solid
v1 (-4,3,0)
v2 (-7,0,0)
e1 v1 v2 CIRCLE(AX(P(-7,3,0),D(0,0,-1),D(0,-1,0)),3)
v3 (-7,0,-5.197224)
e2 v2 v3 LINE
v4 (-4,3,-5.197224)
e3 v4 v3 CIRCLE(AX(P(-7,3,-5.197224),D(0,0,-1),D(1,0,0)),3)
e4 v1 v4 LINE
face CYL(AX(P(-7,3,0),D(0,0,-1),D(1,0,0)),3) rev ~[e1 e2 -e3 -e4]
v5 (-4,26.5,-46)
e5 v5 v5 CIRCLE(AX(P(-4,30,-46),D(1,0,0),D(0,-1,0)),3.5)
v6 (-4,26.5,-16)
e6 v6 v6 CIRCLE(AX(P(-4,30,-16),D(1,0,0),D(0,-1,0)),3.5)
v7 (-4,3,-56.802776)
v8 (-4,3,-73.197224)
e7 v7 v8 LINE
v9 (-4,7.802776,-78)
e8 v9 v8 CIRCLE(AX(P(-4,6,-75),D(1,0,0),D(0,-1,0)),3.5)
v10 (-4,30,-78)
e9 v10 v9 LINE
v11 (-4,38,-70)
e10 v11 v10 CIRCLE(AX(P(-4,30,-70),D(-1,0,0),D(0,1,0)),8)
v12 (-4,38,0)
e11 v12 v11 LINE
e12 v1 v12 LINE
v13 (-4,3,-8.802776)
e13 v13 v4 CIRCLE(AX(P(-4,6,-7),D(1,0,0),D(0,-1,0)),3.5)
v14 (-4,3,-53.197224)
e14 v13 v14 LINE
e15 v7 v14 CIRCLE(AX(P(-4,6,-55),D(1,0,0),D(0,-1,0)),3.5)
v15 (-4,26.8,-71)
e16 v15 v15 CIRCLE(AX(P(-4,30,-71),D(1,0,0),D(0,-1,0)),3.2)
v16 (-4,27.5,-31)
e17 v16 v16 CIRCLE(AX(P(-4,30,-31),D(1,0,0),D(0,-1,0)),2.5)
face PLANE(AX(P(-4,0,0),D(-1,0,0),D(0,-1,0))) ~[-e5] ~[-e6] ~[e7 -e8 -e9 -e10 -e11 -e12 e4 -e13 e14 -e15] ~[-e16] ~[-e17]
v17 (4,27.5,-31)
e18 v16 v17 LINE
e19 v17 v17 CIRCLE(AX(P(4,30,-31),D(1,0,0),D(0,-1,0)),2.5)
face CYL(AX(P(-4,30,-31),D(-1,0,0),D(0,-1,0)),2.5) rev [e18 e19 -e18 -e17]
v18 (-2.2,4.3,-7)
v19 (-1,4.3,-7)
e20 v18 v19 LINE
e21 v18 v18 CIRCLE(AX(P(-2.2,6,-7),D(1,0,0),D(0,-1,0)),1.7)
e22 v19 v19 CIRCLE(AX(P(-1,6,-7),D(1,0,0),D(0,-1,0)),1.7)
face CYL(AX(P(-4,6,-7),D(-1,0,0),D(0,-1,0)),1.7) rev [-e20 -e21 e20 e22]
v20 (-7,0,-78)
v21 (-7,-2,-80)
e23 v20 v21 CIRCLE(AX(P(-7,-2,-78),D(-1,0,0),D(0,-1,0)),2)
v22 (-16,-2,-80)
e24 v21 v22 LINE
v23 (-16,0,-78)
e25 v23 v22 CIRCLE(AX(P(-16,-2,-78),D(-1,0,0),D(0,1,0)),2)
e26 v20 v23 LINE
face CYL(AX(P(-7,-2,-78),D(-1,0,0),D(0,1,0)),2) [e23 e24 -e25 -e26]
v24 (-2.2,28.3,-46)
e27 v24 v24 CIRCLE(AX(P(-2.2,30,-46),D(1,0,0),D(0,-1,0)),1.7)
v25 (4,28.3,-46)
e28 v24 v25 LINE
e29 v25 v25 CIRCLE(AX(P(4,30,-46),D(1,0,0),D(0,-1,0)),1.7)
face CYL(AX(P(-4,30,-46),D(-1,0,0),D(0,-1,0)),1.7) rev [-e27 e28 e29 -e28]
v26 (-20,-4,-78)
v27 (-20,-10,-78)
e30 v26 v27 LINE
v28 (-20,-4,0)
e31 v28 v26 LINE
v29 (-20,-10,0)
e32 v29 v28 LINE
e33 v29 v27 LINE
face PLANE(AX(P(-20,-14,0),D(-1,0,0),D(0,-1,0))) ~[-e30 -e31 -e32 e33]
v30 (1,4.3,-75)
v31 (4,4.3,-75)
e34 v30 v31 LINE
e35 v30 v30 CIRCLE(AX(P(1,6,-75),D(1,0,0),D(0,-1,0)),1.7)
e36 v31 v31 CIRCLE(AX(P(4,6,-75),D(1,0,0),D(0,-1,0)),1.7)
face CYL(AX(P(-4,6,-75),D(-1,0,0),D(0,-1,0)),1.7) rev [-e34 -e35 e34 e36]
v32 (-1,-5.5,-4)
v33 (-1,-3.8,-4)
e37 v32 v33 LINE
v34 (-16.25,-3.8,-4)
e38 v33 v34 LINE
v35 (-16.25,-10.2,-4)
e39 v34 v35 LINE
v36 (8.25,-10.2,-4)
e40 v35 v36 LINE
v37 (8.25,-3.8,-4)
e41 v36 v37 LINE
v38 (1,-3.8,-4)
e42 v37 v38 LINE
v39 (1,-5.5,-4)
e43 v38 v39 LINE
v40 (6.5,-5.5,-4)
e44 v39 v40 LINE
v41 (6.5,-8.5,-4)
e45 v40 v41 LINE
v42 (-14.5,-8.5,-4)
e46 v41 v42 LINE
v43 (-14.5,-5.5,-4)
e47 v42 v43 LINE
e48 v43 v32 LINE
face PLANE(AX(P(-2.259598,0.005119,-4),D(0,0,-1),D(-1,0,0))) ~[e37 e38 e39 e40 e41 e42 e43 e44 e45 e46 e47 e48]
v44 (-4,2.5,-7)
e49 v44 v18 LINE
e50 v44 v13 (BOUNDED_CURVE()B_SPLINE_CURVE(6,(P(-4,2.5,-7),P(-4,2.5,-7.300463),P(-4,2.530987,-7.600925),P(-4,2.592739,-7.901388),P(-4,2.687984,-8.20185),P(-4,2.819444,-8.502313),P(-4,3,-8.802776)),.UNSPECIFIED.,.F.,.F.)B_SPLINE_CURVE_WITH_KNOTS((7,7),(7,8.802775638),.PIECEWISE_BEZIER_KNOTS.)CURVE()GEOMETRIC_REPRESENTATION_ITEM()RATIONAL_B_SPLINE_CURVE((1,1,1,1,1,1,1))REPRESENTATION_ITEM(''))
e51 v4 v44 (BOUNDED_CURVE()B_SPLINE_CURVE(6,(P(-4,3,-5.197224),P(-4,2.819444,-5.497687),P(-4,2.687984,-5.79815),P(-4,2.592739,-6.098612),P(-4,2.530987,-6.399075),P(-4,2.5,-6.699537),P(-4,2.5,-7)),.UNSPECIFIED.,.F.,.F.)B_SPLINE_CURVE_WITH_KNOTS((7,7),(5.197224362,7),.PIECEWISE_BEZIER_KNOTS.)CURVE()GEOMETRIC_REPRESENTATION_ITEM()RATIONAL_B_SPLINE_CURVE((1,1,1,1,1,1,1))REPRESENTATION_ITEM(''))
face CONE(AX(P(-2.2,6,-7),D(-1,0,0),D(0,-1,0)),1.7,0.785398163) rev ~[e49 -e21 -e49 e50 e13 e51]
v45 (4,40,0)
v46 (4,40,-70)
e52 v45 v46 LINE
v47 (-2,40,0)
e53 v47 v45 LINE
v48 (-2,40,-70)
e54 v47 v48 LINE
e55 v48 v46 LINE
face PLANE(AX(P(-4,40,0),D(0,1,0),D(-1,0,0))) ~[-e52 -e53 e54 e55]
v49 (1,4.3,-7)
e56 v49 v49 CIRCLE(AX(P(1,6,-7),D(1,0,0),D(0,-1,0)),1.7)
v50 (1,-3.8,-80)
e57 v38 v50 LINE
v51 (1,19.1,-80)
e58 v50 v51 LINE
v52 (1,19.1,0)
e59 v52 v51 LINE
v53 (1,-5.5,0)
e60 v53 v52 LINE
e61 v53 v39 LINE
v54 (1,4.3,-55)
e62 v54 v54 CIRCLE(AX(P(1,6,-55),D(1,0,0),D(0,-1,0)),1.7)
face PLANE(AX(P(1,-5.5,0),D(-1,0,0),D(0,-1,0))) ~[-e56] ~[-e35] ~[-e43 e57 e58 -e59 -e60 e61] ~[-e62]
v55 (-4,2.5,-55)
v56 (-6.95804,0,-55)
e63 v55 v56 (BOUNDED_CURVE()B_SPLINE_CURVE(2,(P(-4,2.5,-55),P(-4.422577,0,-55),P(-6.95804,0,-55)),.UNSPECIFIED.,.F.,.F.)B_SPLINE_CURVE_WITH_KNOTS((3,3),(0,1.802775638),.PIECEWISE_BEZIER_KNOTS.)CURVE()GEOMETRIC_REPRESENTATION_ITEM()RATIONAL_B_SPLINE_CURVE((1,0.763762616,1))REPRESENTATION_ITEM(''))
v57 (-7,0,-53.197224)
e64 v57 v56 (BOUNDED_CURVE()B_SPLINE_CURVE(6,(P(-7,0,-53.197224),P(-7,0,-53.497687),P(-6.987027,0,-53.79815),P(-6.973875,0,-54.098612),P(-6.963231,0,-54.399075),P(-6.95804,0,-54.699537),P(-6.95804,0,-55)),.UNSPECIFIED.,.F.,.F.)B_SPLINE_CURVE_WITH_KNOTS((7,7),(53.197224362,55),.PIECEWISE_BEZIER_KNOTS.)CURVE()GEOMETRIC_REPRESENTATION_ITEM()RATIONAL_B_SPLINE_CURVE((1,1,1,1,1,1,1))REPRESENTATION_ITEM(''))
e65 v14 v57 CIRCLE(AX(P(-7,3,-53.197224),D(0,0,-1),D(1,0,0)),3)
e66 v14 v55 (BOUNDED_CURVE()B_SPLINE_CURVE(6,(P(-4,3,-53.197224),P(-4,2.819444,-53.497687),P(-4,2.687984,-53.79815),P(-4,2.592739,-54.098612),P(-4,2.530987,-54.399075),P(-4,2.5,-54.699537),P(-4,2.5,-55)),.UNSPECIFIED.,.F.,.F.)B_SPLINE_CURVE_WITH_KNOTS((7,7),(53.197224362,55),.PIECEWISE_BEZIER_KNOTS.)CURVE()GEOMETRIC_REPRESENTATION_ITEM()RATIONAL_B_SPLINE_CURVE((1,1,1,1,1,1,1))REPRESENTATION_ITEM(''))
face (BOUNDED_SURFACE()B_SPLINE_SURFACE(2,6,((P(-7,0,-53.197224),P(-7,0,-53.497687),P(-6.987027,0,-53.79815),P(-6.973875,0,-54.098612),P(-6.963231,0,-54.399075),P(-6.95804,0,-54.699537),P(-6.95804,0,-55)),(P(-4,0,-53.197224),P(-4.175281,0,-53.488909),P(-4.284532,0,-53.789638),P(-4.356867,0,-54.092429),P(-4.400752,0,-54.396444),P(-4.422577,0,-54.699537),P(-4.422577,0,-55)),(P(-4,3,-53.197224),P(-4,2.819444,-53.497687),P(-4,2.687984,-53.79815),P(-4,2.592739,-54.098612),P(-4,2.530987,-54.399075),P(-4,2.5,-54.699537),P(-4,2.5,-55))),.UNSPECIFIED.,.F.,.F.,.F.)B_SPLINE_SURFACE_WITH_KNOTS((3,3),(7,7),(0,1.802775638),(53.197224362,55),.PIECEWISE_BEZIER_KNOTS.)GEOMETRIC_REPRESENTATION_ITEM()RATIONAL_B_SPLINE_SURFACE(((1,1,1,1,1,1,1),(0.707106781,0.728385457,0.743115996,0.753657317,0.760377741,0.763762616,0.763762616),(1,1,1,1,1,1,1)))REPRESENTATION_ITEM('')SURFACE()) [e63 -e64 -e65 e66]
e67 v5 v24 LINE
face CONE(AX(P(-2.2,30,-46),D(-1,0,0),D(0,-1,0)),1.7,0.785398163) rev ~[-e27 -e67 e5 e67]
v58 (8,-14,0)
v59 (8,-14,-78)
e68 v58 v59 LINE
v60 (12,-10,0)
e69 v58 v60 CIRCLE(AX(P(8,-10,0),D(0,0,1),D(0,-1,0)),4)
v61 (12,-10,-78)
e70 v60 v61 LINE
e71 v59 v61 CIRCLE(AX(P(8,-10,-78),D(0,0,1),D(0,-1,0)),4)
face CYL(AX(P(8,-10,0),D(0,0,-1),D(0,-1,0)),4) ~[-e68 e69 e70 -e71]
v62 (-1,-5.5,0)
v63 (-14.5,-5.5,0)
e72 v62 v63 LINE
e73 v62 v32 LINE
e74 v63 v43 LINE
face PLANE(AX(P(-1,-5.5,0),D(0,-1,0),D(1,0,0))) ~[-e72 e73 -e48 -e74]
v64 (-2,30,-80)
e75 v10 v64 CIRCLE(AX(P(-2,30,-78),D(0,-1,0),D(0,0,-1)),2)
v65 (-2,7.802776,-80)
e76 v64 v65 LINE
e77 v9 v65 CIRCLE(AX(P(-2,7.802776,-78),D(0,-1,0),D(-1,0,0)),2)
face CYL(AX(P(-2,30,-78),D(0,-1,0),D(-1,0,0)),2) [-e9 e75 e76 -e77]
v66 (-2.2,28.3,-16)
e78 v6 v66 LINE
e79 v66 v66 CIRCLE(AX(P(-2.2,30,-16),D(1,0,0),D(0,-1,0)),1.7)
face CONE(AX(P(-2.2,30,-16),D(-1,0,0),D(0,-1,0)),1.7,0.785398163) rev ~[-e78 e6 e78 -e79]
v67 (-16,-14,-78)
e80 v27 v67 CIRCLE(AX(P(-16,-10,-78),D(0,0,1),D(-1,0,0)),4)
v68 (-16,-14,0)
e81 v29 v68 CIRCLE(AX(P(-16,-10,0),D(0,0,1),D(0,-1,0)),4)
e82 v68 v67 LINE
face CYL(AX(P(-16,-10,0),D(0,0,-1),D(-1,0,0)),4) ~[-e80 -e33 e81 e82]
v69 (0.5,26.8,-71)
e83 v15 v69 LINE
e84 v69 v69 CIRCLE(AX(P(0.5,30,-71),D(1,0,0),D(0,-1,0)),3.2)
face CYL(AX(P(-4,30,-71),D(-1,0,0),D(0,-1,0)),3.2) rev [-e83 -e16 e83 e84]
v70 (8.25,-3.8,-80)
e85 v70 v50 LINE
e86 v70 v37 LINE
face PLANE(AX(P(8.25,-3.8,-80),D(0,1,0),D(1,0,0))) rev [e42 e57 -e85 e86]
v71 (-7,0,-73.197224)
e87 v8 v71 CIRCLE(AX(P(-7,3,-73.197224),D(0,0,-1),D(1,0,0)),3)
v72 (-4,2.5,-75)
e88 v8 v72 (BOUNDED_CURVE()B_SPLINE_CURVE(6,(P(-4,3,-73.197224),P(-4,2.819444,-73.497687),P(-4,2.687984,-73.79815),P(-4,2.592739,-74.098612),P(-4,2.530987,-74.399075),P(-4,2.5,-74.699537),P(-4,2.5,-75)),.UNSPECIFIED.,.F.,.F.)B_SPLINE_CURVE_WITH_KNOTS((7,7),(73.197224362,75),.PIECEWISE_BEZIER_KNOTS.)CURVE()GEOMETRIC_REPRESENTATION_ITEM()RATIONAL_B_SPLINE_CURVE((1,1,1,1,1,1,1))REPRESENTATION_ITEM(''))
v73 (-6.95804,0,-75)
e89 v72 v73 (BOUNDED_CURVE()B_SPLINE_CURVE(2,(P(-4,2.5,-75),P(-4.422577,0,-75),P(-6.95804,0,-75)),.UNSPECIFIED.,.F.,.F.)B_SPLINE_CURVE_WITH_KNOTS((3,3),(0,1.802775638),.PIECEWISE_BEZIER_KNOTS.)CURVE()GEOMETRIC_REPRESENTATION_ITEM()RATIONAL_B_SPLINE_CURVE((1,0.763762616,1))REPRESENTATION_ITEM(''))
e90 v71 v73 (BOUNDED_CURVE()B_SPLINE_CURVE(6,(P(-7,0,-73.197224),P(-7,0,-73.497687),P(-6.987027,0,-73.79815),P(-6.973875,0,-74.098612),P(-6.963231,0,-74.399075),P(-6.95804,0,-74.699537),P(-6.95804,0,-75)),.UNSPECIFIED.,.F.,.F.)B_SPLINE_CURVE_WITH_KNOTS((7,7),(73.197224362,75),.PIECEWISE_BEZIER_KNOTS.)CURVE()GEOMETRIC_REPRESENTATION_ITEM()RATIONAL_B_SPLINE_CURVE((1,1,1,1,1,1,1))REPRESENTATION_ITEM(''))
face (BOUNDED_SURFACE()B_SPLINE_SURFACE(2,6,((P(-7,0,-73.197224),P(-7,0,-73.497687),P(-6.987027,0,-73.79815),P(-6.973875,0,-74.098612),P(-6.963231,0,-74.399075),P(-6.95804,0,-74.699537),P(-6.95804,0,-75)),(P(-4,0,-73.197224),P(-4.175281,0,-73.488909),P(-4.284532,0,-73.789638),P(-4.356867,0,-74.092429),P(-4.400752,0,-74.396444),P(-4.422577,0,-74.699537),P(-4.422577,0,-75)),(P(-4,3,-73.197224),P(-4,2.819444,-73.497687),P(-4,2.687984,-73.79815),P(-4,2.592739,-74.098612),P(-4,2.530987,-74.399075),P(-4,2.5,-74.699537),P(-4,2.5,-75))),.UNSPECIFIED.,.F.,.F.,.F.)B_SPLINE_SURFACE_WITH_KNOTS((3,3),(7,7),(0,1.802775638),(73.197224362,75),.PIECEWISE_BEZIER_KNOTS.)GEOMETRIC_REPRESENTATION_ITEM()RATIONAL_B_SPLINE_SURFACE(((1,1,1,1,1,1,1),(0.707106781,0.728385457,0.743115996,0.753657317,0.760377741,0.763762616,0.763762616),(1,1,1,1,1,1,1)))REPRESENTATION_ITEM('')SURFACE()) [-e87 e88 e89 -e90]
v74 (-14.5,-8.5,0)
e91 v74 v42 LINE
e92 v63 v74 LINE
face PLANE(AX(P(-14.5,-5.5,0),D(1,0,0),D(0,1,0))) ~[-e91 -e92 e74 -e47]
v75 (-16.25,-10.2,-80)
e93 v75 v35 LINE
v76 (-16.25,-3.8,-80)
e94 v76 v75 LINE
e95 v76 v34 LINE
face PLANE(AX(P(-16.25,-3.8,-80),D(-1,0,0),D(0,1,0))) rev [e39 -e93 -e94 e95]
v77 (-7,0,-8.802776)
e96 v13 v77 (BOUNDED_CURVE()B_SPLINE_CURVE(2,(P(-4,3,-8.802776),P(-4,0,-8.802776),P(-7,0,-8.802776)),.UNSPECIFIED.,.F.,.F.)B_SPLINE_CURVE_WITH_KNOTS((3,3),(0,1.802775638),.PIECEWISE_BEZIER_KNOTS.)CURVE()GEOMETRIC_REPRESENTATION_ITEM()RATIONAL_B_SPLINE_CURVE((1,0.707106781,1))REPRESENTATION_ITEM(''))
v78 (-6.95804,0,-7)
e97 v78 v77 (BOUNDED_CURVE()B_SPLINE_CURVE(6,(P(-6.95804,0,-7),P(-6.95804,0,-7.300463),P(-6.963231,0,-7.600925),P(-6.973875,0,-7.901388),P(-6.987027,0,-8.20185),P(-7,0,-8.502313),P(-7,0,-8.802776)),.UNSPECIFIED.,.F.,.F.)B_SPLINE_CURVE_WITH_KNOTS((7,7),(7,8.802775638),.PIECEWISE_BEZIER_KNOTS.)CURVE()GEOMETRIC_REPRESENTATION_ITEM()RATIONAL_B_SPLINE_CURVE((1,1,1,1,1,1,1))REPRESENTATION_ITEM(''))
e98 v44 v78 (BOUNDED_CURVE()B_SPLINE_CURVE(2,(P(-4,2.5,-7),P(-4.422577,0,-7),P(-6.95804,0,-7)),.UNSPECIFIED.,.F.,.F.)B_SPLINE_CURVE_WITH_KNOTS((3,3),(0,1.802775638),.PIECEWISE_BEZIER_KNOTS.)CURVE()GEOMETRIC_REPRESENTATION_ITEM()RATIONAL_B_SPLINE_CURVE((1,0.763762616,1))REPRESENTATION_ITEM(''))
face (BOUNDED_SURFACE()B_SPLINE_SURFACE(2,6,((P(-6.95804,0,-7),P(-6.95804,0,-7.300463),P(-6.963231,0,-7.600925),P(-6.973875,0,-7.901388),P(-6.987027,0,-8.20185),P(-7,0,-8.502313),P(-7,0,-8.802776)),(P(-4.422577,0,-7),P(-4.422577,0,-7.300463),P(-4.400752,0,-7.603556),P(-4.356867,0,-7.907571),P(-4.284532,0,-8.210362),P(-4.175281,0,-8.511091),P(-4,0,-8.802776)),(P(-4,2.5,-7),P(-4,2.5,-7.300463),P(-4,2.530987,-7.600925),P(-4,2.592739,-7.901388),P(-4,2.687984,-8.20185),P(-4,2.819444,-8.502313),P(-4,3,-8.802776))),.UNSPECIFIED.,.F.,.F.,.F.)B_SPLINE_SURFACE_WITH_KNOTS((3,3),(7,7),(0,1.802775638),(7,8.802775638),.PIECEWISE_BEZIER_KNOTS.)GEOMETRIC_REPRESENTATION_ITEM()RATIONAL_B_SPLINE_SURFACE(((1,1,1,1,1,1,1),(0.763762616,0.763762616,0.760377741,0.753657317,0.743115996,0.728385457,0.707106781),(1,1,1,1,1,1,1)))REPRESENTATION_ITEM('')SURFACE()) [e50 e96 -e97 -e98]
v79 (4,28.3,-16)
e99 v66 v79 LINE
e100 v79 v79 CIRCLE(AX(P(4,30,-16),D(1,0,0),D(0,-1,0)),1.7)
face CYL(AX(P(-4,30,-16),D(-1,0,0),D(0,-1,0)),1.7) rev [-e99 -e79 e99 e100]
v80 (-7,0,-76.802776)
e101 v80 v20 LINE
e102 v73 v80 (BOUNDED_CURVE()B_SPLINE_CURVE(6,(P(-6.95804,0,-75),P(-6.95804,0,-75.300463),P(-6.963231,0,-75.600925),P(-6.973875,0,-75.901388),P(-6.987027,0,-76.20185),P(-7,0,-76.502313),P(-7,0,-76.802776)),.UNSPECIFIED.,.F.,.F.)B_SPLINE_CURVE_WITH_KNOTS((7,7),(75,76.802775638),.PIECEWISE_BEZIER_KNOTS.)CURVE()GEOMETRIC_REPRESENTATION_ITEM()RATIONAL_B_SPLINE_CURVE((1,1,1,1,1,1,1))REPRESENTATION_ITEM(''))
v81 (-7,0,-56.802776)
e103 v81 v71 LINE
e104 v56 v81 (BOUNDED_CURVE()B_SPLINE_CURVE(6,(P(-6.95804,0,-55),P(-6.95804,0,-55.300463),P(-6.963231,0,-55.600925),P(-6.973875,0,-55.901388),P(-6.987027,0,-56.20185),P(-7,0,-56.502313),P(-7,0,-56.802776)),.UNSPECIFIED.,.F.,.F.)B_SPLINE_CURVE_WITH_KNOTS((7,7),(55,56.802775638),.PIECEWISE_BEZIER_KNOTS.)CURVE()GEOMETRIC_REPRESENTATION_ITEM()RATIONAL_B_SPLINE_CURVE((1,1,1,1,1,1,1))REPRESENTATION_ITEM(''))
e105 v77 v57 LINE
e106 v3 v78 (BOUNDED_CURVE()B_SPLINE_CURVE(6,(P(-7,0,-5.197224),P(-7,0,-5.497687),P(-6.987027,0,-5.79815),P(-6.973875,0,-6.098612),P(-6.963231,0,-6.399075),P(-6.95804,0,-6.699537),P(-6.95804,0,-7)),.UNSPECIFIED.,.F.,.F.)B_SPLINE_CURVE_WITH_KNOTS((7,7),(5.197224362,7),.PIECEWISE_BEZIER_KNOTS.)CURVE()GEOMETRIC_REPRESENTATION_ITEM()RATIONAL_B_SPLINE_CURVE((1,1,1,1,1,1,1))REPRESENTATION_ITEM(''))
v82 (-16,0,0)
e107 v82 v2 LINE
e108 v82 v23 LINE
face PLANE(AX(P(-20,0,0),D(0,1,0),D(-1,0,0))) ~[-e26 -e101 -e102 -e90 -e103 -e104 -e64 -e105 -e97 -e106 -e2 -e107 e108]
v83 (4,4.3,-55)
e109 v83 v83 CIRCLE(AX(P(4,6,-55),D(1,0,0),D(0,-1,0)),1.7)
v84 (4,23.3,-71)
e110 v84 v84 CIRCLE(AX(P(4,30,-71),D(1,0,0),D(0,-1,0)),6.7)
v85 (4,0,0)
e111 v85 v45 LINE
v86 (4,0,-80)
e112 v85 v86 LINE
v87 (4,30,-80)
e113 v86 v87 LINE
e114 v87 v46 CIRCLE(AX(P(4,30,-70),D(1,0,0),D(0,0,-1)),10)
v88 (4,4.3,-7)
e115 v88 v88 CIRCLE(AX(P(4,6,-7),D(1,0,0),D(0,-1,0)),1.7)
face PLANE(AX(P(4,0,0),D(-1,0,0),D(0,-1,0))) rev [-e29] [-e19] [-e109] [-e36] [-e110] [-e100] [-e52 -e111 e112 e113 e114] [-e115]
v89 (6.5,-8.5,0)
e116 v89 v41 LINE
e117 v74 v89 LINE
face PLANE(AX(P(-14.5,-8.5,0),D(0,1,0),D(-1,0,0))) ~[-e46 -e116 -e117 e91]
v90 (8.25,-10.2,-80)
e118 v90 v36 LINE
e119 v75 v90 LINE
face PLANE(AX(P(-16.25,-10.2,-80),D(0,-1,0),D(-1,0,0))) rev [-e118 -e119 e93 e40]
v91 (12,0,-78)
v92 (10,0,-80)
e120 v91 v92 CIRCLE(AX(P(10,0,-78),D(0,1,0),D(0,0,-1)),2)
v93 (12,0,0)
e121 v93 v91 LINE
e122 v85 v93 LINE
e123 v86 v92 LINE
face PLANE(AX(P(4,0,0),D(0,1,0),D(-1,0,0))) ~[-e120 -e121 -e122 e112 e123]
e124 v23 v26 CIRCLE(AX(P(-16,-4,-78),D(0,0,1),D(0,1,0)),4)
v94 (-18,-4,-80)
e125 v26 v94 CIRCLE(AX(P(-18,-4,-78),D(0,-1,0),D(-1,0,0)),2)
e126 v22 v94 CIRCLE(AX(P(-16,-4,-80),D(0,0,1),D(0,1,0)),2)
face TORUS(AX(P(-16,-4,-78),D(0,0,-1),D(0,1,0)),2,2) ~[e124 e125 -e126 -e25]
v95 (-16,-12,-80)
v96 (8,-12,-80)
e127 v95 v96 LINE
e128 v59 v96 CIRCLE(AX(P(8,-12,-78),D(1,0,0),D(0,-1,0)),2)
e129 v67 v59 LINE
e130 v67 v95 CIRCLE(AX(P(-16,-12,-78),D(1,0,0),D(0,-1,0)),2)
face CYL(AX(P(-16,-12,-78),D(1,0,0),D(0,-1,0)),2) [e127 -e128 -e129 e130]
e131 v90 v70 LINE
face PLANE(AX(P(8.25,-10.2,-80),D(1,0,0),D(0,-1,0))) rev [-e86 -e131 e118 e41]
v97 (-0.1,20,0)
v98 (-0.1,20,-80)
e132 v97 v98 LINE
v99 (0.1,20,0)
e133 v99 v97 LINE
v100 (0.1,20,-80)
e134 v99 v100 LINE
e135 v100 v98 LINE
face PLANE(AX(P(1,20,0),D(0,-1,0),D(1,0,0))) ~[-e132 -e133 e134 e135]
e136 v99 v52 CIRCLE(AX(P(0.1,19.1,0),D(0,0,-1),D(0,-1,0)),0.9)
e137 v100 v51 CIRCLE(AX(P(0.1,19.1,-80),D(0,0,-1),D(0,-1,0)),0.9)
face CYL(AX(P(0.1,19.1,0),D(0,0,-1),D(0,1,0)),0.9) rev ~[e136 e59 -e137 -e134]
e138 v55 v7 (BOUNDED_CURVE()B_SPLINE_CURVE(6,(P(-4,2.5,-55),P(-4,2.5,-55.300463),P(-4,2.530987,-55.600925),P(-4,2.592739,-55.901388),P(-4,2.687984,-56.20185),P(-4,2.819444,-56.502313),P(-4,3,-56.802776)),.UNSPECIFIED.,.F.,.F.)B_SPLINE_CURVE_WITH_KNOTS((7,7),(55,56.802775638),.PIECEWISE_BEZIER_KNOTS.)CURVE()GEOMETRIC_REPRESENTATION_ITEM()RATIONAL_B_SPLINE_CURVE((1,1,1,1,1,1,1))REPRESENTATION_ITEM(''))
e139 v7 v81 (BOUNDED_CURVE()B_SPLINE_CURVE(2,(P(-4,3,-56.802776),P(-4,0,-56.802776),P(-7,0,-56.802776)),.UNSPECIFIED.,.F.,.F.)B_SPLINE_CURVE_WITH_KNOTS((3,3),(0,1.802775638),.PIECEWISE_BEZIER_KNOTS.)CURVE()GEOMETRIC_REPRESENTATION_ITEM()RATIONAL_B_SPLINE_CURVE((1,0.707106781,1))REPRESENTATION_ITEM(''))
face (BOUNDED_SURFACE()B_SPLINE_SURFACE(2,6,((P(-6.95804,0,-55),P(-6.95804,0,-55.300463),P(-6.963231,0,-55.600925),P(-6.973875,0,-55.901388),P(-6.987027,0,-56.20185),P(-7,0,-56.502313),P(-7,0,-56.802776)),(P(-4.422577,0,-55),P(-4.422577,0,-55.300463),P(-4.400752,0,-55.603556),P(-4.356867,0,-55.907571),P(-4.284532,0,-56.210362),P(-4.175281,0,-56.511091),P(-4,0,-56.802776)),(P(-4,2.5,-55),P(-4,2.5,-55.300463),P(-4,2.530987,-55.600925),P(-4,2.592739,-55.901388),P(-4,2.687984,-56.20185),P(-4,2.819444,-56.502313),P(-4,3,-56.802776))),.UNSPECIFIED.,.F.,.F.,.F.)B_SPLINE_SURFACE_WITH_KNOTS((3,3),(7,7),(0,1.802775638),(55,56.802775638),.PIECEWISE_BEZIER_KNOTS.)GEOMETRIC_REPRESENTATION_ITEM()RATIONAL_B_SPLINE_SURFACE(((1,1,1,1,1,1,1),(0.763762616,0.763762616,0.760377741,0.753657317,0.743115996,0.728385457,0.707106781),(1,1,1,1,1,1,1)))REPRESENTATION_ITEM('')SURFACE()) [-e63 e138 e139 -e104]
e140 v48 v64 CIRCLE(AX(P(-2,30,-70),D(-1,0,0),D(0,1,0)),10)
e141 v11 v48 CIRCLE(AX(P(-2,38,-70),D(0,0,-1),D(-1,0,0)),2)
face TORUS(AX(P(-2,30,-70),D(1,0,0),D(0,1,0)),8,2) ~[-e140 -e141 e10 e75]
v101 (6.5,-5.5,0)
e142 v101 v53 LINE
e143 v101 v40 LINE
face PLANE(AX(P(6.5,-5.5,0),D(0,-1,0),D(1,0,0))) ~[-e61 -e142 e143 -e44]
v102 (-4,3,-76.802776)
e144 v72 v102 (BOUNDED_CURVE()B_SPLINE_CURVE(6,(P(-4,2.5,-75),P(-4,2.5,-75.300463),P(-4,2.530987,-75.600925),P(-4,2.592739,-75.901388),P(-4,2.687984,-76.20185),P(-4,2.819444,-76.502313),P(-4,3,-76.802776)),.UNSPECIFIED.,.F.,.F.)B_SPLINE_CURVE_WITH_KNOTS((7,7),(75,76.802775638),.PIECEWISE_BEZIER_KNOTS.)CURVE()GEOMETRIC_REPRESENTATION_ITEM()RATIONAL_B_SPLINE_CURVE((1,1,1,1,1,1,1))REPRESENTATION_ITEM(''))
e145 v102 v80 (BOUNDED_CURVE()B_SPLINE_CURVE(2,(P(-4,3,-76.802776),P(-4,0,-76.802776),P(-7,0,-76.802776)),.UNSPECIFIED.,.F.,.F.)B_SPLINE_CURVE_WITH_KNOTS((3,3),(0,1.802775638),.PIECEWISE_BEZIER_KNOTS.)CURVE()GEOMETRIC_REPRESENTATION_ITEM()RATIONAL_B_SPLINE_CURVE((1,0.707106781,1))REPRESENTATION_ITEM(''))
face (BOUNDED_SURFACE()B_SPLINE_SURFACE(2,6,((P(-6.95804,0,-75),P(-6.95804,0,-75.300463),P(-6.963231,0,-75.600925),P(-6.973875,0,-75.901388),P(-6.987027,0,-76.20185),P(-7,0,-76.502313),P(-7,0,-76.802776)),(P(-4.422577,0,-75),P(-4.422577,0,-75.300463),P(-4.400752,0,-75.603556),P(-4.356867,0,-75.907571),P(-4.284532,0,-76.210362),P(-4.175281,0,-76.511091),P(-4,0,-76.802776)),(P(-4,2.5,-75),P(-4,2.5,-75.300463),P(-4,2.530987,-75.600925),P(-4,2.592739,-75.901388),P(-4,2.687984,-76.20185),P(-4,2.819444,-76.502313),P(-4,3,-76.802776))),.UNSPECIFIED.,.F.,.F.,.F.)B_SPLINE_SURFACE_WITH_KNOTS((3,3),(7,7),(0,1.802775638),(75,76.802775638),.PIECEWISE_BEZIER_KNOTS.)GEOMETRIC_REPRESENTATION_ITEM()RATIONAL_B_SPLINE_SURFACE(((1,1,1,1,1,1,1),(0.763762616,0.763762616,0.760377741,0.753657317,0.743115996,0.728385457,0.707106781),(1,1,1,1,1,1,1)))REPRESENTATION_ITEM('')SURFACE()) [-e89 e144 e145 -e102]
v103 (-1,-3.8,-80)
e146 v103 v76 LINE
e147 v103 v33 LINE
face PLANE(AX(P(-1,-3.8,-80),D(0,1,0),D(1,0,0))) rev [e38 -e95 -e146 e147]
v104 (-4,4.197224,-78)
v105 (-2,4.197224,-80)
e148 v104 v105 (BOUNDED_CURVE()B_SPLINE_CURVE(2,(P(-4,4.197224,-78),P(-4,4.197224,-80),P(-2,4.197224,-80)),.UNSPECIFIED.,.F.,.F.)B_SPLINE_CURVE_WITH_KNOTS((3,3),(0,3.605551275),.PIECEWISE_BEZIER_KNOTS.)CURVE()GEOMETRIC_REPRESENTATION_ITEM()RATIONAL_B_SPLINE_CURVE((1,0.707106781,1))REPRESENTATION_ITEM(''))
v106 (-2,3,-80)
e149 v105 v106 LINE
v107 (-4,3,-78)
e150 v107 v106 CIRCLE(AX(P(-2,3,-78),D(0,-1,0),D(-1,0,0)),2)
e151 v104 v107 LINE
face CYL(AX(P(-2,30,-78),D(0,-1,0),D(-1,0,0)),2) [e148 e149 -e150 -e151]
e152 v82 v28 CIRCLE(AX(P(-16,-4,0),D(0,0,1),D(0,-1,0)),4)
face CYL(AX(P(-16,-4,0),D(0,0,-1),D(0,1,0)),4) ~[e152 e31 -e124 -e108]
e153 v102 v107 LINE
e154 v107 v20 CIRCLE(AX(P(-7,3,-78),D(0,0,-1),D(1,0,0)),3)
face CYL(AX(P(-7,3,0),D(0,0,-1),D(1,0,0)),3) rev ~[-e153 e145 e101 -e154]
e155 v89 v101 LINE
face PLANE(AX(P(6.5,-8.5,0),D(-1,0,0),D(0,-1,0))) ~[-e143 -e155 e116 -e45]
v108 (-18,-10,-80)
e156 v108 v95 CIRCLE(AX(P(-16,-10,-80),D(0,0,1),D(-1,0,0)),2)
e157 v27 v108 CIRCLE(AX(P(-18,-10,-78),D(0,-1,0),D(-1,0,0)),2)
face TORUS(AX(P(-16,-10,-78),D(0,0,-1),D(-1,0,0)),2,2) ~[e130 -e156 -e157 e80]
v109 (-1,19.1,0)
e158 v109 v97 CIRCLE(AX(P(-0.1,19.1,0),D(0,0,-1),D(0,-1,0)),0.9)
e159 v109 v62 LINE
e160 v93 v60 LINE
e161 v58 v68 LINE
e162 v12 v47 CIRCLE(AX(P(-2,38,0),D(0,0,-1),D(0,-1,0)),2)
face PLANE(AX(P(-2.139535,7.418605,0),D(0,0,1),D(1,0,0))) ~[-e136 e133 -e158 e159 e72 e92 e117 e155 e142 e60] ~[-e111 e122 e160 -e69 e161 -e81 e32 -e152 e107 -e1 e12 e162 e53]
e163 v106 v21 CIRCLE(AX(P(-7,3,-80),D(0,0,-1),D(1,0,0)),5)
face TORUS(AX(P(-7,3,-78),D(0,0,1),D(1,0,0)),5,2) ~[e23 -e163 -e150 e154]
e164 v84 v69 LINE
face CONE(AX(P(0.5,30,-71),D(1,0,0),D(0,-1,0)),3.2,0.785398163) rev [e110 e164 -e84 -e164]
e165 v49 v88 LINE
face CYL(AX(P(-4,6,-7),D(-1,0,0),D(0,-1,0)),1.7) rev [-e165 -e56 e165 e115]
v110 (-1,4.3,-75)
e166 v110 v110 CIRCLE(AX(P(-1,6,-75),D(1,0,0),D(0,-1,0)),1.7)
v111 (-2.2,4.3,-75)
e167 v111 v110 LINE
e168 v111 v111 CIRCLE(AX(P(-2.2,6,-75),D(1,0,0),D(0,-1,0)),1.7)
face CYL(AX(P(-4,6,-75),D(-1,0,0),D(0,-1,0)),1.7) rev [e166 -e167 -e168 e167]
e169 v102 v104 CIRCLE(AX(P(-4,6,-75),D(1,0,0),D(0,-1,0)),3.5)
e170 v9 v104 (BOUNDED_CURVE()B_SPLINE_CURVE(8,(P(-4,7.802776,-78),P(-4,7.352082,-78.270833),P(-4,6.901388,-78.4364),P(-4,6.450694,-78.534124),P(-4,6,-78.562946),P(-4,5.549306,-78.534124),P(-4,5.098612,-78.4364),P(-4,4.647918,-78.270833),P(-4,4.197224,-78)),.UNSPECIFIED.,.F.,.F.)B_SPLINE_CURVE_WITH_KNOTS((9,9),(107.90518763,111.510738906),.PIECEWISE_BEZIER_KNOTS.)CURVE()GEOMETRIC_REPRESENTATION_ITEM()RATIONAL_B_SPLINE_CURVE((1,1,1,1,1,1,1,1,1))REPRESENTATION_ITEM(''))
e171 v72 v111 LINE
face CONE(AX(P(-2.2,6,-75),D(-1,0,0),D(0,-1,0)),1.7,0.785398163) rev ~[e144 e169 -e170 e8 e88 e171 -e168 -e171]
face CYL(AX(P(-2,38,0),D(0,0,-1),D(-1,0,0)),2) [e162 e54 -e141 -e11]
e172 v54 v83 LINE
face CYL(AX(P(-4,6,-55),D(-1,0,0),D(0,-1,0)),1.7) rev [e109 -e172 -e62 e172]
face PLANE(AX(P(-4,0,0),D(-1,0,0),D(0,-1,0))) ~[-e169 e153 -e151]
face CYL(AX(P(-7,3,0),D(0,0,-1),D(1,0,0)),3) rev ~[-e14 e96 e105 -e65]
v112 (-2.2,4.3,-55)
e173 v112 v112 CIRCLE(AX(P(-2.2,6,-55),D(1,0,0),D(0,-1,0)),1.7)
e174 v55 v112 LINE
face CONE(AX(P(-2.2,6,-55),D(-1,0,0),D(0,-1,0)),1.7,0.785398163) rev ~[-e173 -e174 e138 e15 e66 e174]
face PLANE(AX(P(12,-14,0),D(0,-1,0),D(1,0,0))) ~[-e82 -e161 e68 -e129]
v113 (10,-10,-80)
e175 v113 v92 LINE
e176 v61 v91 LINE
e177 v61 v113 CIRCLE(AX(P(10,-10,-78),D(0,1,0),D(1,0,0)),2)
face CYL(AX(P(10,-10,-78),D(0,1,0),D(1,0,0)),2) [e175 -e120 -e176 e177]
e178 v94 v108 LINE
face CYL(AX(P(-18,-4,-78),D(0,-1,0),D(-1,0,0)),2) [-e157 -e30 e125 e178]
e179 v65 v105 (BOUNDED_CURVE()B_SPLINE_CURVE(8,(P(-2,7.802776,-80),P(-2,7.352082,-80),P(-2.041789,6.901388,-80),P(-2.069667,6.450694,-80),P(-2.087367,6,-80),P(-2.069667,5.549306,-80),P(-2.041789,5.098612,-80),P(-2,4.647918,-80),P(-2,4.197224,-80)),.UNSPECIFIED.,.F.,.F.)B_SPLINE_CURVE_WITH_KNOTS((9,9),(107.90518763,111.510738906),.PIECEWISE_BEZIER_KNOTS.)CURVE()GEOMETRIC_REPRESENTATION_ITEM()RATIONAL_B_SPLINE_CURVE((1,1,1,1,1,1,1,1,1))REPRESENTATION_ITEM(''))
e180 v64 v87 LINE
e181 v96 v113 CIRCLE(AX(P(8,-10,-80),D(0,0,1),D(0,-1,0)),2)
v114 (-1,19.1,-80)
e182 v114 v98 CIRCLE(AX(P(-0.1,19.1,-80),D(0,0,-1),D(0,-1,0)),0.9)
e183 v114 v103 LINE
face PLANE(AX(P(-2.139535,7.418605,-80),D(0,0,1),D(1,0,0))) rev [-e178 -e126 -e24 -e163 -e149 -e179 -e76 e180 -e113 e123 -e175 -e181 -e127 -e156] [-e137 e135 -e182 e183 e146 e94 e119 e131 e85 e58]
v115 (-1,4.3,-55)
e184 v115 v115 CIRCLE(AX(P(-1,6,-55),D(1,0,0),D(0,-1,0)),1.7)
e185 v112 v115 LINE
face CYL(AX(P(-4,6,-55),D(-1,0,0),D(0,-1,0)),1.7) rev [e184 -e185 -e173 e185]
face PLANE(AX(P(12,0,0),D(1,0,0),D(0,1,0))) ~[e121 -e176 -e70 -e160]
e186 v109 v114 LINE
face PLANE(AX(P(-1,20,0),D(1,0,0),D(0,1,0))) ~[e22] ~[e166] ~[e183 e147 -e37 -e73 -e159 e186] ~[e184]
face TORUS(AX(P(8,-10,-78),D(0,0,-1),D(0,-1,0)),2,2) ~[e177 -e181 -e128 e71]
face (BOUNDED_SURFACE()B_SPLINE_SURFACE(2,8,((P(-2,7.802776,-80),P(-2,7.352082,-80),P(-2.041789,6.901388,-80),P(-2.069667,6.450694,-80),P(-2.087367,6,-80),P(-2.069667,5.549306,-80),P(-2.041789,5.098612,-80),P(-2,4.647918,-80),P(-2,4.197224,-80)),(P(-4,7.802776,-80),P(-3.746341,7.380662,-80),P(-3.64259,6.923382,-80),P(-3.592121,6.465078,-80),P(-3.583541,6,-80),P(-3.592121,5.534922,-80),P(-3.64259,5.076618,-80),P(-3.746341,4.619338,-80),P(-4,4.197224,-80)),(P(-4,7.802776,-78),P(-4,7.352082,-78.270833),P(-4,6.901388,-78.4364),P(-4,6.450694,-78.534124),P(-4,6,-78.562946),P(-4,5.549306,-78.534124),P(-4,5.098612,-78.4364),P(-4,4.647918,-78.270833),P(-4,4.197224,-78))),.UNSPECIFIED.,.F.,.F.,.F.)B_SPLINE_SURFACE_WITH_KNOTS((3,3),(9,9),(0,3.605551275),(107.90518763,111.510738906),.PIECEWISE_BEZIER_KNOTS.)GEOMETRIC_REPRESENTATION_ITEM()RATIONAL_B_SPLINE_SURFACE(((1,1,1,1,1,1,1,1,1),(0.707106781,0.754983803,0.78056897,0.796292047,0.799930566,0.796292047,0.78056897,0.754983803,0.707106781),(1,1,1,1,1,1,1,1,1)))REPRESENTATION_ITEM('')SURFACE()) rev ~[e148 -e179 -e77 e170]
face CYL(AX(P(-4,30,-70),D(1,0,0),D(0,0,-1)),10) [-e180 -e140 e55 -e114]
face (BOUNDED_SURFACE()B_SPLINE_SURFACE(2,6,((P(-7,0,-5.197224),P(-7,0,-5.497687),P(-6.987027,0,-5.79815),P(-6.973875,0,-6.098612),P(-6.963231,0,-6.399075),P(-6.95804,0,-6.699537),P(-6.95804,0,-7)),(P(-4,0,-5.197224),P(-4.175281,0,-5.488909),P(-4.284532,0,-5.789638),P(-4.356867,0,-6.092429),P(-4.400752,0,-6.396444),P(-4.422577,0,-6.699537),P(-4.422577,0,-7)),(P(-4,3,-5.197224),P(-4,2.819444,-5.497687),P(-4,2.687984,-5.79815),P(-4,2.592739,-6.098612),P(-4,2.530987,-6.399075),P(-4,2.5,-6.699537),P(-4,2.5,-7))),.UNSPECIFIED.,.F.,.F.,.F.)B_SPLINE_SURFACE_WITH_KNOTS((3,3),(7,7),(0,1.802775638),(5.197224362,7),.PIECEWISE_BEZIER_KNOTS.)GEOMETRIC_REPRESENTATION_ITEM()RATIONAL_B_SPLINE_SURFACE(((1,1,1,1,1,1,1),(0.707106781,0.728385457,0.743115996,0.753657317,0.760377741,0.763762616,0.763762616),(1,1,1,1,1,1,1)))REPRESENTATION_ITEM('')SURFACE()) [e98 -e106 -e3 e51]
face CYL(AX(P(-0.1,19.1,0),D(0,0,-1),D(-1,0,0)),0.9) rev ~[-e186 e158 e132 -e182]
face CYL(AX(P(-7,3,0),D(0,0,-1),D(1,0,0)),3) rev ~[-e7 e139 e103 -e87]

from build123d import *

# Parameters (mm, degrees)
PAD_DEPTH       = 80
POCKET_DEPTH    = 76
SKETCH002_R     = 1.7
SKETCH002_R_2   = 3.2
SKETCH002_R_3   = 2.5
POCKET001_DEPTH = 16.001
POCKET002_DEPTH = 5
CHAMFER_SIZE    = 3.5
FILLET_R        = 10
CHAMFER001_SIZE = 1.8
CHAMFER002_SIZE = 1.8
CHAMFER003_SIZE = 1.8
CHAMFER004_SIZE = 1.8
CHAMFER005_SIZE = 1.8
FILLET001_R     = 3
FILLET002_R     = 4
FILLET003_R     = 4
FILLET004_R     = 4
FILLET005_R     = 2
FILLET006_R     = 0.9
FILLET007_R     = 0.9


with BuildPart() as fillet007:
    # Sketch → Pad (new body)
    with BuildSketch(Plane.XY):
        Polygon((-4, 0), (-4, 40), (4, 40), (4, 18), (4, 0), (12, 0), (12, -14), (-20, -14), (-20, 0), align=None)
    extrude(amount=PAD_DEPTH)

    # Sketch001 → Pocket (cut)
    with BuildSketch(Plane.XY.offset(80)):
        Polygon((1, -3.8), (1, 20), (-1, 20), (-1, -3.8), (-16.25, -3.8), (-16.25, -10.2), (8.25, -10.2), (8.25, -3.8), align=None)
    extrude(amount=-POCKET_DEPTH, mode=Mode.SUBTRACT)

    # Sketch002 → Pocket001 (cut, through all)
    with BuildSketch(Plane(origin=(-4, 0, 0), x_dir=(0, -1, 0), z_dir=(-1, 0, 0))):
        with Locations((-6, 7)):
            Circle(SKETCH002_R)
        with Locations((-6, 55)):
            Circle(SKETCH002_R)
        with Locations((-6, 75)):
            Circle(SKETCH002_R)
        with Locations((-30, 46)):
            Circle(SKETCH002_R)
        with Locations((-30, 16)):
            Circle(SKETCH002_R)
        with Locations((-30, 71)):
            Circle(SKETCH002_R_2)
        with Locations((-30, 31)):
            Circle(SKETCH002_R_3)
    extrude(amount=-POCKET001_DEPTH, mode=Mode.SUBTRACT)

    # Sketch003 → Pocket002 (cut)
    with BuildSketch(Plane(origin=(0, 0, 0), x_dir=(1, 0, 0), z_dir=(0, 0, -1))):
        Polygon((-14.5, 8.5), (6.5, 8.5), (6.5, 5.5), (1, 5.5), (1, -20), (-1, -20), (-1, 5.5), (-14.5, 5.5), align=None)
    extrude(amount=-POCKET002_DEPTH, mode=Mode.SUBTRACT)

    # Chamfer
    chamfer_edges = [fillet007.edges().sort_by_distance(p)[0] for p in [
        (4, 33.2, 71),
    ]]
    chamfer(chamfer_edges, length=CHAMFER_SIZE)

    # Fillet
    fillet_edges = [fillet007.edges().sort_by_distance(p)[0] for p in [
        (0, 40, 80),
    ]]
    fillet(fillet_edges, radius=FILLET_R)

    # Chamfer001
    chamfer001_edges = [fillet007.edges().sort_by_distance(p)[0] for p in [
        (-4, 7.7, 7),
    ]]
    chamfer(chamfer001_edges, length=CHAMFER001_SIZE)

    # Chamfer002
    chamfer002_edges = [fillet007.edges().sort_by_distance(p)[0] for p in [
        (-4, 7.7, 75),
    ]]
    chamfer(chamfer002_edges, length=CHAMFER002_SIZE)

    # Chamfer003
    chamfer003_edges = [fillet007.edges().sort_by_distance(p)[0] for p in [
        (-4, 7.7, 55),
    ]]
    chamfer(chamfer003_edges, length=CHAMFER003_SIZE)

    # Chamfer004
    chamfer004_edges = [fillet007.edges().sort_by_distance(p)[0] for p in [
        (-4, 31.7, 46),
    ]]
    chamfer(chamfer004_edges, length=CHAMFER004_SIZE)

    # Chamfer005
    chamfer005_edges = [fillet007.edges().sort_by_distance(p)[0] for p in [
        (-4, 31.7, 16),
    ]]
    chamfer(chamfer005_edges, length=CHAMFER005_SIZE)

    # Fillet001
    fillet001_edges = [fillet007.edges().sort_by_distance(p)[0] for p in [
        (-4, 0, 40),
    ]]
    fillet(fillet001_edges, radius=FILLET001_R)

    # Fillet002
    fillet002_edges = [fillet007.edges().sort_by_distance(p)[0] for p in [
        (-20, 0, 40),
    ]]
    fillet(fillet002_edges, radius=FILLET002_R)

    # Fillet003
    fillet003_edges = [fillet007.edges().sort_by_distance(p)[0] for p in [
        (-20, -14, 40),
    ]]
    fillet(fillet003_edges, radius=FILLET003_R)

    # Fillet004
    fillet004_edges = [fillet007.edges().sort_by_distance(p)[0] for p in [
        (12, -14, 40),
    ]]
    fillet(fillet004_edges, radius=FILLET004_R)

    # Fillet005
    fillet005_edges = [fillet007.edges().sort_by_distance(p)[0] for p in [
        (-4, 40, 35),
    ]]
    fillet(fillet005_edges, radius=FILLET005_R)

    # Fillet006
    fillet006_edges = [fillet007.edges().sort_by_distance(p)[0] for p in [
        (-1, 20, 40),
    ]]
    fillet(fillet006_edges, radius=FILLET006_R)

    # Fillet007
    fillet007_edges = [fillet007.edges().sort_by_distance(p)[0] for p in [
        (1, 20, 40),
    ]]
    fillet(fillet007_edges, radius=FILLET007_R)


with BuildPart() as part_mirroring:
    # Part__Mirroring: instance of Fillet007
    add(fillet007.part.mirror(Plane(origin=(0, 0, 0), x_dir=(0, 1, 0), z_dir=(0, 0, 1))))


solid = part_mirroring.part
